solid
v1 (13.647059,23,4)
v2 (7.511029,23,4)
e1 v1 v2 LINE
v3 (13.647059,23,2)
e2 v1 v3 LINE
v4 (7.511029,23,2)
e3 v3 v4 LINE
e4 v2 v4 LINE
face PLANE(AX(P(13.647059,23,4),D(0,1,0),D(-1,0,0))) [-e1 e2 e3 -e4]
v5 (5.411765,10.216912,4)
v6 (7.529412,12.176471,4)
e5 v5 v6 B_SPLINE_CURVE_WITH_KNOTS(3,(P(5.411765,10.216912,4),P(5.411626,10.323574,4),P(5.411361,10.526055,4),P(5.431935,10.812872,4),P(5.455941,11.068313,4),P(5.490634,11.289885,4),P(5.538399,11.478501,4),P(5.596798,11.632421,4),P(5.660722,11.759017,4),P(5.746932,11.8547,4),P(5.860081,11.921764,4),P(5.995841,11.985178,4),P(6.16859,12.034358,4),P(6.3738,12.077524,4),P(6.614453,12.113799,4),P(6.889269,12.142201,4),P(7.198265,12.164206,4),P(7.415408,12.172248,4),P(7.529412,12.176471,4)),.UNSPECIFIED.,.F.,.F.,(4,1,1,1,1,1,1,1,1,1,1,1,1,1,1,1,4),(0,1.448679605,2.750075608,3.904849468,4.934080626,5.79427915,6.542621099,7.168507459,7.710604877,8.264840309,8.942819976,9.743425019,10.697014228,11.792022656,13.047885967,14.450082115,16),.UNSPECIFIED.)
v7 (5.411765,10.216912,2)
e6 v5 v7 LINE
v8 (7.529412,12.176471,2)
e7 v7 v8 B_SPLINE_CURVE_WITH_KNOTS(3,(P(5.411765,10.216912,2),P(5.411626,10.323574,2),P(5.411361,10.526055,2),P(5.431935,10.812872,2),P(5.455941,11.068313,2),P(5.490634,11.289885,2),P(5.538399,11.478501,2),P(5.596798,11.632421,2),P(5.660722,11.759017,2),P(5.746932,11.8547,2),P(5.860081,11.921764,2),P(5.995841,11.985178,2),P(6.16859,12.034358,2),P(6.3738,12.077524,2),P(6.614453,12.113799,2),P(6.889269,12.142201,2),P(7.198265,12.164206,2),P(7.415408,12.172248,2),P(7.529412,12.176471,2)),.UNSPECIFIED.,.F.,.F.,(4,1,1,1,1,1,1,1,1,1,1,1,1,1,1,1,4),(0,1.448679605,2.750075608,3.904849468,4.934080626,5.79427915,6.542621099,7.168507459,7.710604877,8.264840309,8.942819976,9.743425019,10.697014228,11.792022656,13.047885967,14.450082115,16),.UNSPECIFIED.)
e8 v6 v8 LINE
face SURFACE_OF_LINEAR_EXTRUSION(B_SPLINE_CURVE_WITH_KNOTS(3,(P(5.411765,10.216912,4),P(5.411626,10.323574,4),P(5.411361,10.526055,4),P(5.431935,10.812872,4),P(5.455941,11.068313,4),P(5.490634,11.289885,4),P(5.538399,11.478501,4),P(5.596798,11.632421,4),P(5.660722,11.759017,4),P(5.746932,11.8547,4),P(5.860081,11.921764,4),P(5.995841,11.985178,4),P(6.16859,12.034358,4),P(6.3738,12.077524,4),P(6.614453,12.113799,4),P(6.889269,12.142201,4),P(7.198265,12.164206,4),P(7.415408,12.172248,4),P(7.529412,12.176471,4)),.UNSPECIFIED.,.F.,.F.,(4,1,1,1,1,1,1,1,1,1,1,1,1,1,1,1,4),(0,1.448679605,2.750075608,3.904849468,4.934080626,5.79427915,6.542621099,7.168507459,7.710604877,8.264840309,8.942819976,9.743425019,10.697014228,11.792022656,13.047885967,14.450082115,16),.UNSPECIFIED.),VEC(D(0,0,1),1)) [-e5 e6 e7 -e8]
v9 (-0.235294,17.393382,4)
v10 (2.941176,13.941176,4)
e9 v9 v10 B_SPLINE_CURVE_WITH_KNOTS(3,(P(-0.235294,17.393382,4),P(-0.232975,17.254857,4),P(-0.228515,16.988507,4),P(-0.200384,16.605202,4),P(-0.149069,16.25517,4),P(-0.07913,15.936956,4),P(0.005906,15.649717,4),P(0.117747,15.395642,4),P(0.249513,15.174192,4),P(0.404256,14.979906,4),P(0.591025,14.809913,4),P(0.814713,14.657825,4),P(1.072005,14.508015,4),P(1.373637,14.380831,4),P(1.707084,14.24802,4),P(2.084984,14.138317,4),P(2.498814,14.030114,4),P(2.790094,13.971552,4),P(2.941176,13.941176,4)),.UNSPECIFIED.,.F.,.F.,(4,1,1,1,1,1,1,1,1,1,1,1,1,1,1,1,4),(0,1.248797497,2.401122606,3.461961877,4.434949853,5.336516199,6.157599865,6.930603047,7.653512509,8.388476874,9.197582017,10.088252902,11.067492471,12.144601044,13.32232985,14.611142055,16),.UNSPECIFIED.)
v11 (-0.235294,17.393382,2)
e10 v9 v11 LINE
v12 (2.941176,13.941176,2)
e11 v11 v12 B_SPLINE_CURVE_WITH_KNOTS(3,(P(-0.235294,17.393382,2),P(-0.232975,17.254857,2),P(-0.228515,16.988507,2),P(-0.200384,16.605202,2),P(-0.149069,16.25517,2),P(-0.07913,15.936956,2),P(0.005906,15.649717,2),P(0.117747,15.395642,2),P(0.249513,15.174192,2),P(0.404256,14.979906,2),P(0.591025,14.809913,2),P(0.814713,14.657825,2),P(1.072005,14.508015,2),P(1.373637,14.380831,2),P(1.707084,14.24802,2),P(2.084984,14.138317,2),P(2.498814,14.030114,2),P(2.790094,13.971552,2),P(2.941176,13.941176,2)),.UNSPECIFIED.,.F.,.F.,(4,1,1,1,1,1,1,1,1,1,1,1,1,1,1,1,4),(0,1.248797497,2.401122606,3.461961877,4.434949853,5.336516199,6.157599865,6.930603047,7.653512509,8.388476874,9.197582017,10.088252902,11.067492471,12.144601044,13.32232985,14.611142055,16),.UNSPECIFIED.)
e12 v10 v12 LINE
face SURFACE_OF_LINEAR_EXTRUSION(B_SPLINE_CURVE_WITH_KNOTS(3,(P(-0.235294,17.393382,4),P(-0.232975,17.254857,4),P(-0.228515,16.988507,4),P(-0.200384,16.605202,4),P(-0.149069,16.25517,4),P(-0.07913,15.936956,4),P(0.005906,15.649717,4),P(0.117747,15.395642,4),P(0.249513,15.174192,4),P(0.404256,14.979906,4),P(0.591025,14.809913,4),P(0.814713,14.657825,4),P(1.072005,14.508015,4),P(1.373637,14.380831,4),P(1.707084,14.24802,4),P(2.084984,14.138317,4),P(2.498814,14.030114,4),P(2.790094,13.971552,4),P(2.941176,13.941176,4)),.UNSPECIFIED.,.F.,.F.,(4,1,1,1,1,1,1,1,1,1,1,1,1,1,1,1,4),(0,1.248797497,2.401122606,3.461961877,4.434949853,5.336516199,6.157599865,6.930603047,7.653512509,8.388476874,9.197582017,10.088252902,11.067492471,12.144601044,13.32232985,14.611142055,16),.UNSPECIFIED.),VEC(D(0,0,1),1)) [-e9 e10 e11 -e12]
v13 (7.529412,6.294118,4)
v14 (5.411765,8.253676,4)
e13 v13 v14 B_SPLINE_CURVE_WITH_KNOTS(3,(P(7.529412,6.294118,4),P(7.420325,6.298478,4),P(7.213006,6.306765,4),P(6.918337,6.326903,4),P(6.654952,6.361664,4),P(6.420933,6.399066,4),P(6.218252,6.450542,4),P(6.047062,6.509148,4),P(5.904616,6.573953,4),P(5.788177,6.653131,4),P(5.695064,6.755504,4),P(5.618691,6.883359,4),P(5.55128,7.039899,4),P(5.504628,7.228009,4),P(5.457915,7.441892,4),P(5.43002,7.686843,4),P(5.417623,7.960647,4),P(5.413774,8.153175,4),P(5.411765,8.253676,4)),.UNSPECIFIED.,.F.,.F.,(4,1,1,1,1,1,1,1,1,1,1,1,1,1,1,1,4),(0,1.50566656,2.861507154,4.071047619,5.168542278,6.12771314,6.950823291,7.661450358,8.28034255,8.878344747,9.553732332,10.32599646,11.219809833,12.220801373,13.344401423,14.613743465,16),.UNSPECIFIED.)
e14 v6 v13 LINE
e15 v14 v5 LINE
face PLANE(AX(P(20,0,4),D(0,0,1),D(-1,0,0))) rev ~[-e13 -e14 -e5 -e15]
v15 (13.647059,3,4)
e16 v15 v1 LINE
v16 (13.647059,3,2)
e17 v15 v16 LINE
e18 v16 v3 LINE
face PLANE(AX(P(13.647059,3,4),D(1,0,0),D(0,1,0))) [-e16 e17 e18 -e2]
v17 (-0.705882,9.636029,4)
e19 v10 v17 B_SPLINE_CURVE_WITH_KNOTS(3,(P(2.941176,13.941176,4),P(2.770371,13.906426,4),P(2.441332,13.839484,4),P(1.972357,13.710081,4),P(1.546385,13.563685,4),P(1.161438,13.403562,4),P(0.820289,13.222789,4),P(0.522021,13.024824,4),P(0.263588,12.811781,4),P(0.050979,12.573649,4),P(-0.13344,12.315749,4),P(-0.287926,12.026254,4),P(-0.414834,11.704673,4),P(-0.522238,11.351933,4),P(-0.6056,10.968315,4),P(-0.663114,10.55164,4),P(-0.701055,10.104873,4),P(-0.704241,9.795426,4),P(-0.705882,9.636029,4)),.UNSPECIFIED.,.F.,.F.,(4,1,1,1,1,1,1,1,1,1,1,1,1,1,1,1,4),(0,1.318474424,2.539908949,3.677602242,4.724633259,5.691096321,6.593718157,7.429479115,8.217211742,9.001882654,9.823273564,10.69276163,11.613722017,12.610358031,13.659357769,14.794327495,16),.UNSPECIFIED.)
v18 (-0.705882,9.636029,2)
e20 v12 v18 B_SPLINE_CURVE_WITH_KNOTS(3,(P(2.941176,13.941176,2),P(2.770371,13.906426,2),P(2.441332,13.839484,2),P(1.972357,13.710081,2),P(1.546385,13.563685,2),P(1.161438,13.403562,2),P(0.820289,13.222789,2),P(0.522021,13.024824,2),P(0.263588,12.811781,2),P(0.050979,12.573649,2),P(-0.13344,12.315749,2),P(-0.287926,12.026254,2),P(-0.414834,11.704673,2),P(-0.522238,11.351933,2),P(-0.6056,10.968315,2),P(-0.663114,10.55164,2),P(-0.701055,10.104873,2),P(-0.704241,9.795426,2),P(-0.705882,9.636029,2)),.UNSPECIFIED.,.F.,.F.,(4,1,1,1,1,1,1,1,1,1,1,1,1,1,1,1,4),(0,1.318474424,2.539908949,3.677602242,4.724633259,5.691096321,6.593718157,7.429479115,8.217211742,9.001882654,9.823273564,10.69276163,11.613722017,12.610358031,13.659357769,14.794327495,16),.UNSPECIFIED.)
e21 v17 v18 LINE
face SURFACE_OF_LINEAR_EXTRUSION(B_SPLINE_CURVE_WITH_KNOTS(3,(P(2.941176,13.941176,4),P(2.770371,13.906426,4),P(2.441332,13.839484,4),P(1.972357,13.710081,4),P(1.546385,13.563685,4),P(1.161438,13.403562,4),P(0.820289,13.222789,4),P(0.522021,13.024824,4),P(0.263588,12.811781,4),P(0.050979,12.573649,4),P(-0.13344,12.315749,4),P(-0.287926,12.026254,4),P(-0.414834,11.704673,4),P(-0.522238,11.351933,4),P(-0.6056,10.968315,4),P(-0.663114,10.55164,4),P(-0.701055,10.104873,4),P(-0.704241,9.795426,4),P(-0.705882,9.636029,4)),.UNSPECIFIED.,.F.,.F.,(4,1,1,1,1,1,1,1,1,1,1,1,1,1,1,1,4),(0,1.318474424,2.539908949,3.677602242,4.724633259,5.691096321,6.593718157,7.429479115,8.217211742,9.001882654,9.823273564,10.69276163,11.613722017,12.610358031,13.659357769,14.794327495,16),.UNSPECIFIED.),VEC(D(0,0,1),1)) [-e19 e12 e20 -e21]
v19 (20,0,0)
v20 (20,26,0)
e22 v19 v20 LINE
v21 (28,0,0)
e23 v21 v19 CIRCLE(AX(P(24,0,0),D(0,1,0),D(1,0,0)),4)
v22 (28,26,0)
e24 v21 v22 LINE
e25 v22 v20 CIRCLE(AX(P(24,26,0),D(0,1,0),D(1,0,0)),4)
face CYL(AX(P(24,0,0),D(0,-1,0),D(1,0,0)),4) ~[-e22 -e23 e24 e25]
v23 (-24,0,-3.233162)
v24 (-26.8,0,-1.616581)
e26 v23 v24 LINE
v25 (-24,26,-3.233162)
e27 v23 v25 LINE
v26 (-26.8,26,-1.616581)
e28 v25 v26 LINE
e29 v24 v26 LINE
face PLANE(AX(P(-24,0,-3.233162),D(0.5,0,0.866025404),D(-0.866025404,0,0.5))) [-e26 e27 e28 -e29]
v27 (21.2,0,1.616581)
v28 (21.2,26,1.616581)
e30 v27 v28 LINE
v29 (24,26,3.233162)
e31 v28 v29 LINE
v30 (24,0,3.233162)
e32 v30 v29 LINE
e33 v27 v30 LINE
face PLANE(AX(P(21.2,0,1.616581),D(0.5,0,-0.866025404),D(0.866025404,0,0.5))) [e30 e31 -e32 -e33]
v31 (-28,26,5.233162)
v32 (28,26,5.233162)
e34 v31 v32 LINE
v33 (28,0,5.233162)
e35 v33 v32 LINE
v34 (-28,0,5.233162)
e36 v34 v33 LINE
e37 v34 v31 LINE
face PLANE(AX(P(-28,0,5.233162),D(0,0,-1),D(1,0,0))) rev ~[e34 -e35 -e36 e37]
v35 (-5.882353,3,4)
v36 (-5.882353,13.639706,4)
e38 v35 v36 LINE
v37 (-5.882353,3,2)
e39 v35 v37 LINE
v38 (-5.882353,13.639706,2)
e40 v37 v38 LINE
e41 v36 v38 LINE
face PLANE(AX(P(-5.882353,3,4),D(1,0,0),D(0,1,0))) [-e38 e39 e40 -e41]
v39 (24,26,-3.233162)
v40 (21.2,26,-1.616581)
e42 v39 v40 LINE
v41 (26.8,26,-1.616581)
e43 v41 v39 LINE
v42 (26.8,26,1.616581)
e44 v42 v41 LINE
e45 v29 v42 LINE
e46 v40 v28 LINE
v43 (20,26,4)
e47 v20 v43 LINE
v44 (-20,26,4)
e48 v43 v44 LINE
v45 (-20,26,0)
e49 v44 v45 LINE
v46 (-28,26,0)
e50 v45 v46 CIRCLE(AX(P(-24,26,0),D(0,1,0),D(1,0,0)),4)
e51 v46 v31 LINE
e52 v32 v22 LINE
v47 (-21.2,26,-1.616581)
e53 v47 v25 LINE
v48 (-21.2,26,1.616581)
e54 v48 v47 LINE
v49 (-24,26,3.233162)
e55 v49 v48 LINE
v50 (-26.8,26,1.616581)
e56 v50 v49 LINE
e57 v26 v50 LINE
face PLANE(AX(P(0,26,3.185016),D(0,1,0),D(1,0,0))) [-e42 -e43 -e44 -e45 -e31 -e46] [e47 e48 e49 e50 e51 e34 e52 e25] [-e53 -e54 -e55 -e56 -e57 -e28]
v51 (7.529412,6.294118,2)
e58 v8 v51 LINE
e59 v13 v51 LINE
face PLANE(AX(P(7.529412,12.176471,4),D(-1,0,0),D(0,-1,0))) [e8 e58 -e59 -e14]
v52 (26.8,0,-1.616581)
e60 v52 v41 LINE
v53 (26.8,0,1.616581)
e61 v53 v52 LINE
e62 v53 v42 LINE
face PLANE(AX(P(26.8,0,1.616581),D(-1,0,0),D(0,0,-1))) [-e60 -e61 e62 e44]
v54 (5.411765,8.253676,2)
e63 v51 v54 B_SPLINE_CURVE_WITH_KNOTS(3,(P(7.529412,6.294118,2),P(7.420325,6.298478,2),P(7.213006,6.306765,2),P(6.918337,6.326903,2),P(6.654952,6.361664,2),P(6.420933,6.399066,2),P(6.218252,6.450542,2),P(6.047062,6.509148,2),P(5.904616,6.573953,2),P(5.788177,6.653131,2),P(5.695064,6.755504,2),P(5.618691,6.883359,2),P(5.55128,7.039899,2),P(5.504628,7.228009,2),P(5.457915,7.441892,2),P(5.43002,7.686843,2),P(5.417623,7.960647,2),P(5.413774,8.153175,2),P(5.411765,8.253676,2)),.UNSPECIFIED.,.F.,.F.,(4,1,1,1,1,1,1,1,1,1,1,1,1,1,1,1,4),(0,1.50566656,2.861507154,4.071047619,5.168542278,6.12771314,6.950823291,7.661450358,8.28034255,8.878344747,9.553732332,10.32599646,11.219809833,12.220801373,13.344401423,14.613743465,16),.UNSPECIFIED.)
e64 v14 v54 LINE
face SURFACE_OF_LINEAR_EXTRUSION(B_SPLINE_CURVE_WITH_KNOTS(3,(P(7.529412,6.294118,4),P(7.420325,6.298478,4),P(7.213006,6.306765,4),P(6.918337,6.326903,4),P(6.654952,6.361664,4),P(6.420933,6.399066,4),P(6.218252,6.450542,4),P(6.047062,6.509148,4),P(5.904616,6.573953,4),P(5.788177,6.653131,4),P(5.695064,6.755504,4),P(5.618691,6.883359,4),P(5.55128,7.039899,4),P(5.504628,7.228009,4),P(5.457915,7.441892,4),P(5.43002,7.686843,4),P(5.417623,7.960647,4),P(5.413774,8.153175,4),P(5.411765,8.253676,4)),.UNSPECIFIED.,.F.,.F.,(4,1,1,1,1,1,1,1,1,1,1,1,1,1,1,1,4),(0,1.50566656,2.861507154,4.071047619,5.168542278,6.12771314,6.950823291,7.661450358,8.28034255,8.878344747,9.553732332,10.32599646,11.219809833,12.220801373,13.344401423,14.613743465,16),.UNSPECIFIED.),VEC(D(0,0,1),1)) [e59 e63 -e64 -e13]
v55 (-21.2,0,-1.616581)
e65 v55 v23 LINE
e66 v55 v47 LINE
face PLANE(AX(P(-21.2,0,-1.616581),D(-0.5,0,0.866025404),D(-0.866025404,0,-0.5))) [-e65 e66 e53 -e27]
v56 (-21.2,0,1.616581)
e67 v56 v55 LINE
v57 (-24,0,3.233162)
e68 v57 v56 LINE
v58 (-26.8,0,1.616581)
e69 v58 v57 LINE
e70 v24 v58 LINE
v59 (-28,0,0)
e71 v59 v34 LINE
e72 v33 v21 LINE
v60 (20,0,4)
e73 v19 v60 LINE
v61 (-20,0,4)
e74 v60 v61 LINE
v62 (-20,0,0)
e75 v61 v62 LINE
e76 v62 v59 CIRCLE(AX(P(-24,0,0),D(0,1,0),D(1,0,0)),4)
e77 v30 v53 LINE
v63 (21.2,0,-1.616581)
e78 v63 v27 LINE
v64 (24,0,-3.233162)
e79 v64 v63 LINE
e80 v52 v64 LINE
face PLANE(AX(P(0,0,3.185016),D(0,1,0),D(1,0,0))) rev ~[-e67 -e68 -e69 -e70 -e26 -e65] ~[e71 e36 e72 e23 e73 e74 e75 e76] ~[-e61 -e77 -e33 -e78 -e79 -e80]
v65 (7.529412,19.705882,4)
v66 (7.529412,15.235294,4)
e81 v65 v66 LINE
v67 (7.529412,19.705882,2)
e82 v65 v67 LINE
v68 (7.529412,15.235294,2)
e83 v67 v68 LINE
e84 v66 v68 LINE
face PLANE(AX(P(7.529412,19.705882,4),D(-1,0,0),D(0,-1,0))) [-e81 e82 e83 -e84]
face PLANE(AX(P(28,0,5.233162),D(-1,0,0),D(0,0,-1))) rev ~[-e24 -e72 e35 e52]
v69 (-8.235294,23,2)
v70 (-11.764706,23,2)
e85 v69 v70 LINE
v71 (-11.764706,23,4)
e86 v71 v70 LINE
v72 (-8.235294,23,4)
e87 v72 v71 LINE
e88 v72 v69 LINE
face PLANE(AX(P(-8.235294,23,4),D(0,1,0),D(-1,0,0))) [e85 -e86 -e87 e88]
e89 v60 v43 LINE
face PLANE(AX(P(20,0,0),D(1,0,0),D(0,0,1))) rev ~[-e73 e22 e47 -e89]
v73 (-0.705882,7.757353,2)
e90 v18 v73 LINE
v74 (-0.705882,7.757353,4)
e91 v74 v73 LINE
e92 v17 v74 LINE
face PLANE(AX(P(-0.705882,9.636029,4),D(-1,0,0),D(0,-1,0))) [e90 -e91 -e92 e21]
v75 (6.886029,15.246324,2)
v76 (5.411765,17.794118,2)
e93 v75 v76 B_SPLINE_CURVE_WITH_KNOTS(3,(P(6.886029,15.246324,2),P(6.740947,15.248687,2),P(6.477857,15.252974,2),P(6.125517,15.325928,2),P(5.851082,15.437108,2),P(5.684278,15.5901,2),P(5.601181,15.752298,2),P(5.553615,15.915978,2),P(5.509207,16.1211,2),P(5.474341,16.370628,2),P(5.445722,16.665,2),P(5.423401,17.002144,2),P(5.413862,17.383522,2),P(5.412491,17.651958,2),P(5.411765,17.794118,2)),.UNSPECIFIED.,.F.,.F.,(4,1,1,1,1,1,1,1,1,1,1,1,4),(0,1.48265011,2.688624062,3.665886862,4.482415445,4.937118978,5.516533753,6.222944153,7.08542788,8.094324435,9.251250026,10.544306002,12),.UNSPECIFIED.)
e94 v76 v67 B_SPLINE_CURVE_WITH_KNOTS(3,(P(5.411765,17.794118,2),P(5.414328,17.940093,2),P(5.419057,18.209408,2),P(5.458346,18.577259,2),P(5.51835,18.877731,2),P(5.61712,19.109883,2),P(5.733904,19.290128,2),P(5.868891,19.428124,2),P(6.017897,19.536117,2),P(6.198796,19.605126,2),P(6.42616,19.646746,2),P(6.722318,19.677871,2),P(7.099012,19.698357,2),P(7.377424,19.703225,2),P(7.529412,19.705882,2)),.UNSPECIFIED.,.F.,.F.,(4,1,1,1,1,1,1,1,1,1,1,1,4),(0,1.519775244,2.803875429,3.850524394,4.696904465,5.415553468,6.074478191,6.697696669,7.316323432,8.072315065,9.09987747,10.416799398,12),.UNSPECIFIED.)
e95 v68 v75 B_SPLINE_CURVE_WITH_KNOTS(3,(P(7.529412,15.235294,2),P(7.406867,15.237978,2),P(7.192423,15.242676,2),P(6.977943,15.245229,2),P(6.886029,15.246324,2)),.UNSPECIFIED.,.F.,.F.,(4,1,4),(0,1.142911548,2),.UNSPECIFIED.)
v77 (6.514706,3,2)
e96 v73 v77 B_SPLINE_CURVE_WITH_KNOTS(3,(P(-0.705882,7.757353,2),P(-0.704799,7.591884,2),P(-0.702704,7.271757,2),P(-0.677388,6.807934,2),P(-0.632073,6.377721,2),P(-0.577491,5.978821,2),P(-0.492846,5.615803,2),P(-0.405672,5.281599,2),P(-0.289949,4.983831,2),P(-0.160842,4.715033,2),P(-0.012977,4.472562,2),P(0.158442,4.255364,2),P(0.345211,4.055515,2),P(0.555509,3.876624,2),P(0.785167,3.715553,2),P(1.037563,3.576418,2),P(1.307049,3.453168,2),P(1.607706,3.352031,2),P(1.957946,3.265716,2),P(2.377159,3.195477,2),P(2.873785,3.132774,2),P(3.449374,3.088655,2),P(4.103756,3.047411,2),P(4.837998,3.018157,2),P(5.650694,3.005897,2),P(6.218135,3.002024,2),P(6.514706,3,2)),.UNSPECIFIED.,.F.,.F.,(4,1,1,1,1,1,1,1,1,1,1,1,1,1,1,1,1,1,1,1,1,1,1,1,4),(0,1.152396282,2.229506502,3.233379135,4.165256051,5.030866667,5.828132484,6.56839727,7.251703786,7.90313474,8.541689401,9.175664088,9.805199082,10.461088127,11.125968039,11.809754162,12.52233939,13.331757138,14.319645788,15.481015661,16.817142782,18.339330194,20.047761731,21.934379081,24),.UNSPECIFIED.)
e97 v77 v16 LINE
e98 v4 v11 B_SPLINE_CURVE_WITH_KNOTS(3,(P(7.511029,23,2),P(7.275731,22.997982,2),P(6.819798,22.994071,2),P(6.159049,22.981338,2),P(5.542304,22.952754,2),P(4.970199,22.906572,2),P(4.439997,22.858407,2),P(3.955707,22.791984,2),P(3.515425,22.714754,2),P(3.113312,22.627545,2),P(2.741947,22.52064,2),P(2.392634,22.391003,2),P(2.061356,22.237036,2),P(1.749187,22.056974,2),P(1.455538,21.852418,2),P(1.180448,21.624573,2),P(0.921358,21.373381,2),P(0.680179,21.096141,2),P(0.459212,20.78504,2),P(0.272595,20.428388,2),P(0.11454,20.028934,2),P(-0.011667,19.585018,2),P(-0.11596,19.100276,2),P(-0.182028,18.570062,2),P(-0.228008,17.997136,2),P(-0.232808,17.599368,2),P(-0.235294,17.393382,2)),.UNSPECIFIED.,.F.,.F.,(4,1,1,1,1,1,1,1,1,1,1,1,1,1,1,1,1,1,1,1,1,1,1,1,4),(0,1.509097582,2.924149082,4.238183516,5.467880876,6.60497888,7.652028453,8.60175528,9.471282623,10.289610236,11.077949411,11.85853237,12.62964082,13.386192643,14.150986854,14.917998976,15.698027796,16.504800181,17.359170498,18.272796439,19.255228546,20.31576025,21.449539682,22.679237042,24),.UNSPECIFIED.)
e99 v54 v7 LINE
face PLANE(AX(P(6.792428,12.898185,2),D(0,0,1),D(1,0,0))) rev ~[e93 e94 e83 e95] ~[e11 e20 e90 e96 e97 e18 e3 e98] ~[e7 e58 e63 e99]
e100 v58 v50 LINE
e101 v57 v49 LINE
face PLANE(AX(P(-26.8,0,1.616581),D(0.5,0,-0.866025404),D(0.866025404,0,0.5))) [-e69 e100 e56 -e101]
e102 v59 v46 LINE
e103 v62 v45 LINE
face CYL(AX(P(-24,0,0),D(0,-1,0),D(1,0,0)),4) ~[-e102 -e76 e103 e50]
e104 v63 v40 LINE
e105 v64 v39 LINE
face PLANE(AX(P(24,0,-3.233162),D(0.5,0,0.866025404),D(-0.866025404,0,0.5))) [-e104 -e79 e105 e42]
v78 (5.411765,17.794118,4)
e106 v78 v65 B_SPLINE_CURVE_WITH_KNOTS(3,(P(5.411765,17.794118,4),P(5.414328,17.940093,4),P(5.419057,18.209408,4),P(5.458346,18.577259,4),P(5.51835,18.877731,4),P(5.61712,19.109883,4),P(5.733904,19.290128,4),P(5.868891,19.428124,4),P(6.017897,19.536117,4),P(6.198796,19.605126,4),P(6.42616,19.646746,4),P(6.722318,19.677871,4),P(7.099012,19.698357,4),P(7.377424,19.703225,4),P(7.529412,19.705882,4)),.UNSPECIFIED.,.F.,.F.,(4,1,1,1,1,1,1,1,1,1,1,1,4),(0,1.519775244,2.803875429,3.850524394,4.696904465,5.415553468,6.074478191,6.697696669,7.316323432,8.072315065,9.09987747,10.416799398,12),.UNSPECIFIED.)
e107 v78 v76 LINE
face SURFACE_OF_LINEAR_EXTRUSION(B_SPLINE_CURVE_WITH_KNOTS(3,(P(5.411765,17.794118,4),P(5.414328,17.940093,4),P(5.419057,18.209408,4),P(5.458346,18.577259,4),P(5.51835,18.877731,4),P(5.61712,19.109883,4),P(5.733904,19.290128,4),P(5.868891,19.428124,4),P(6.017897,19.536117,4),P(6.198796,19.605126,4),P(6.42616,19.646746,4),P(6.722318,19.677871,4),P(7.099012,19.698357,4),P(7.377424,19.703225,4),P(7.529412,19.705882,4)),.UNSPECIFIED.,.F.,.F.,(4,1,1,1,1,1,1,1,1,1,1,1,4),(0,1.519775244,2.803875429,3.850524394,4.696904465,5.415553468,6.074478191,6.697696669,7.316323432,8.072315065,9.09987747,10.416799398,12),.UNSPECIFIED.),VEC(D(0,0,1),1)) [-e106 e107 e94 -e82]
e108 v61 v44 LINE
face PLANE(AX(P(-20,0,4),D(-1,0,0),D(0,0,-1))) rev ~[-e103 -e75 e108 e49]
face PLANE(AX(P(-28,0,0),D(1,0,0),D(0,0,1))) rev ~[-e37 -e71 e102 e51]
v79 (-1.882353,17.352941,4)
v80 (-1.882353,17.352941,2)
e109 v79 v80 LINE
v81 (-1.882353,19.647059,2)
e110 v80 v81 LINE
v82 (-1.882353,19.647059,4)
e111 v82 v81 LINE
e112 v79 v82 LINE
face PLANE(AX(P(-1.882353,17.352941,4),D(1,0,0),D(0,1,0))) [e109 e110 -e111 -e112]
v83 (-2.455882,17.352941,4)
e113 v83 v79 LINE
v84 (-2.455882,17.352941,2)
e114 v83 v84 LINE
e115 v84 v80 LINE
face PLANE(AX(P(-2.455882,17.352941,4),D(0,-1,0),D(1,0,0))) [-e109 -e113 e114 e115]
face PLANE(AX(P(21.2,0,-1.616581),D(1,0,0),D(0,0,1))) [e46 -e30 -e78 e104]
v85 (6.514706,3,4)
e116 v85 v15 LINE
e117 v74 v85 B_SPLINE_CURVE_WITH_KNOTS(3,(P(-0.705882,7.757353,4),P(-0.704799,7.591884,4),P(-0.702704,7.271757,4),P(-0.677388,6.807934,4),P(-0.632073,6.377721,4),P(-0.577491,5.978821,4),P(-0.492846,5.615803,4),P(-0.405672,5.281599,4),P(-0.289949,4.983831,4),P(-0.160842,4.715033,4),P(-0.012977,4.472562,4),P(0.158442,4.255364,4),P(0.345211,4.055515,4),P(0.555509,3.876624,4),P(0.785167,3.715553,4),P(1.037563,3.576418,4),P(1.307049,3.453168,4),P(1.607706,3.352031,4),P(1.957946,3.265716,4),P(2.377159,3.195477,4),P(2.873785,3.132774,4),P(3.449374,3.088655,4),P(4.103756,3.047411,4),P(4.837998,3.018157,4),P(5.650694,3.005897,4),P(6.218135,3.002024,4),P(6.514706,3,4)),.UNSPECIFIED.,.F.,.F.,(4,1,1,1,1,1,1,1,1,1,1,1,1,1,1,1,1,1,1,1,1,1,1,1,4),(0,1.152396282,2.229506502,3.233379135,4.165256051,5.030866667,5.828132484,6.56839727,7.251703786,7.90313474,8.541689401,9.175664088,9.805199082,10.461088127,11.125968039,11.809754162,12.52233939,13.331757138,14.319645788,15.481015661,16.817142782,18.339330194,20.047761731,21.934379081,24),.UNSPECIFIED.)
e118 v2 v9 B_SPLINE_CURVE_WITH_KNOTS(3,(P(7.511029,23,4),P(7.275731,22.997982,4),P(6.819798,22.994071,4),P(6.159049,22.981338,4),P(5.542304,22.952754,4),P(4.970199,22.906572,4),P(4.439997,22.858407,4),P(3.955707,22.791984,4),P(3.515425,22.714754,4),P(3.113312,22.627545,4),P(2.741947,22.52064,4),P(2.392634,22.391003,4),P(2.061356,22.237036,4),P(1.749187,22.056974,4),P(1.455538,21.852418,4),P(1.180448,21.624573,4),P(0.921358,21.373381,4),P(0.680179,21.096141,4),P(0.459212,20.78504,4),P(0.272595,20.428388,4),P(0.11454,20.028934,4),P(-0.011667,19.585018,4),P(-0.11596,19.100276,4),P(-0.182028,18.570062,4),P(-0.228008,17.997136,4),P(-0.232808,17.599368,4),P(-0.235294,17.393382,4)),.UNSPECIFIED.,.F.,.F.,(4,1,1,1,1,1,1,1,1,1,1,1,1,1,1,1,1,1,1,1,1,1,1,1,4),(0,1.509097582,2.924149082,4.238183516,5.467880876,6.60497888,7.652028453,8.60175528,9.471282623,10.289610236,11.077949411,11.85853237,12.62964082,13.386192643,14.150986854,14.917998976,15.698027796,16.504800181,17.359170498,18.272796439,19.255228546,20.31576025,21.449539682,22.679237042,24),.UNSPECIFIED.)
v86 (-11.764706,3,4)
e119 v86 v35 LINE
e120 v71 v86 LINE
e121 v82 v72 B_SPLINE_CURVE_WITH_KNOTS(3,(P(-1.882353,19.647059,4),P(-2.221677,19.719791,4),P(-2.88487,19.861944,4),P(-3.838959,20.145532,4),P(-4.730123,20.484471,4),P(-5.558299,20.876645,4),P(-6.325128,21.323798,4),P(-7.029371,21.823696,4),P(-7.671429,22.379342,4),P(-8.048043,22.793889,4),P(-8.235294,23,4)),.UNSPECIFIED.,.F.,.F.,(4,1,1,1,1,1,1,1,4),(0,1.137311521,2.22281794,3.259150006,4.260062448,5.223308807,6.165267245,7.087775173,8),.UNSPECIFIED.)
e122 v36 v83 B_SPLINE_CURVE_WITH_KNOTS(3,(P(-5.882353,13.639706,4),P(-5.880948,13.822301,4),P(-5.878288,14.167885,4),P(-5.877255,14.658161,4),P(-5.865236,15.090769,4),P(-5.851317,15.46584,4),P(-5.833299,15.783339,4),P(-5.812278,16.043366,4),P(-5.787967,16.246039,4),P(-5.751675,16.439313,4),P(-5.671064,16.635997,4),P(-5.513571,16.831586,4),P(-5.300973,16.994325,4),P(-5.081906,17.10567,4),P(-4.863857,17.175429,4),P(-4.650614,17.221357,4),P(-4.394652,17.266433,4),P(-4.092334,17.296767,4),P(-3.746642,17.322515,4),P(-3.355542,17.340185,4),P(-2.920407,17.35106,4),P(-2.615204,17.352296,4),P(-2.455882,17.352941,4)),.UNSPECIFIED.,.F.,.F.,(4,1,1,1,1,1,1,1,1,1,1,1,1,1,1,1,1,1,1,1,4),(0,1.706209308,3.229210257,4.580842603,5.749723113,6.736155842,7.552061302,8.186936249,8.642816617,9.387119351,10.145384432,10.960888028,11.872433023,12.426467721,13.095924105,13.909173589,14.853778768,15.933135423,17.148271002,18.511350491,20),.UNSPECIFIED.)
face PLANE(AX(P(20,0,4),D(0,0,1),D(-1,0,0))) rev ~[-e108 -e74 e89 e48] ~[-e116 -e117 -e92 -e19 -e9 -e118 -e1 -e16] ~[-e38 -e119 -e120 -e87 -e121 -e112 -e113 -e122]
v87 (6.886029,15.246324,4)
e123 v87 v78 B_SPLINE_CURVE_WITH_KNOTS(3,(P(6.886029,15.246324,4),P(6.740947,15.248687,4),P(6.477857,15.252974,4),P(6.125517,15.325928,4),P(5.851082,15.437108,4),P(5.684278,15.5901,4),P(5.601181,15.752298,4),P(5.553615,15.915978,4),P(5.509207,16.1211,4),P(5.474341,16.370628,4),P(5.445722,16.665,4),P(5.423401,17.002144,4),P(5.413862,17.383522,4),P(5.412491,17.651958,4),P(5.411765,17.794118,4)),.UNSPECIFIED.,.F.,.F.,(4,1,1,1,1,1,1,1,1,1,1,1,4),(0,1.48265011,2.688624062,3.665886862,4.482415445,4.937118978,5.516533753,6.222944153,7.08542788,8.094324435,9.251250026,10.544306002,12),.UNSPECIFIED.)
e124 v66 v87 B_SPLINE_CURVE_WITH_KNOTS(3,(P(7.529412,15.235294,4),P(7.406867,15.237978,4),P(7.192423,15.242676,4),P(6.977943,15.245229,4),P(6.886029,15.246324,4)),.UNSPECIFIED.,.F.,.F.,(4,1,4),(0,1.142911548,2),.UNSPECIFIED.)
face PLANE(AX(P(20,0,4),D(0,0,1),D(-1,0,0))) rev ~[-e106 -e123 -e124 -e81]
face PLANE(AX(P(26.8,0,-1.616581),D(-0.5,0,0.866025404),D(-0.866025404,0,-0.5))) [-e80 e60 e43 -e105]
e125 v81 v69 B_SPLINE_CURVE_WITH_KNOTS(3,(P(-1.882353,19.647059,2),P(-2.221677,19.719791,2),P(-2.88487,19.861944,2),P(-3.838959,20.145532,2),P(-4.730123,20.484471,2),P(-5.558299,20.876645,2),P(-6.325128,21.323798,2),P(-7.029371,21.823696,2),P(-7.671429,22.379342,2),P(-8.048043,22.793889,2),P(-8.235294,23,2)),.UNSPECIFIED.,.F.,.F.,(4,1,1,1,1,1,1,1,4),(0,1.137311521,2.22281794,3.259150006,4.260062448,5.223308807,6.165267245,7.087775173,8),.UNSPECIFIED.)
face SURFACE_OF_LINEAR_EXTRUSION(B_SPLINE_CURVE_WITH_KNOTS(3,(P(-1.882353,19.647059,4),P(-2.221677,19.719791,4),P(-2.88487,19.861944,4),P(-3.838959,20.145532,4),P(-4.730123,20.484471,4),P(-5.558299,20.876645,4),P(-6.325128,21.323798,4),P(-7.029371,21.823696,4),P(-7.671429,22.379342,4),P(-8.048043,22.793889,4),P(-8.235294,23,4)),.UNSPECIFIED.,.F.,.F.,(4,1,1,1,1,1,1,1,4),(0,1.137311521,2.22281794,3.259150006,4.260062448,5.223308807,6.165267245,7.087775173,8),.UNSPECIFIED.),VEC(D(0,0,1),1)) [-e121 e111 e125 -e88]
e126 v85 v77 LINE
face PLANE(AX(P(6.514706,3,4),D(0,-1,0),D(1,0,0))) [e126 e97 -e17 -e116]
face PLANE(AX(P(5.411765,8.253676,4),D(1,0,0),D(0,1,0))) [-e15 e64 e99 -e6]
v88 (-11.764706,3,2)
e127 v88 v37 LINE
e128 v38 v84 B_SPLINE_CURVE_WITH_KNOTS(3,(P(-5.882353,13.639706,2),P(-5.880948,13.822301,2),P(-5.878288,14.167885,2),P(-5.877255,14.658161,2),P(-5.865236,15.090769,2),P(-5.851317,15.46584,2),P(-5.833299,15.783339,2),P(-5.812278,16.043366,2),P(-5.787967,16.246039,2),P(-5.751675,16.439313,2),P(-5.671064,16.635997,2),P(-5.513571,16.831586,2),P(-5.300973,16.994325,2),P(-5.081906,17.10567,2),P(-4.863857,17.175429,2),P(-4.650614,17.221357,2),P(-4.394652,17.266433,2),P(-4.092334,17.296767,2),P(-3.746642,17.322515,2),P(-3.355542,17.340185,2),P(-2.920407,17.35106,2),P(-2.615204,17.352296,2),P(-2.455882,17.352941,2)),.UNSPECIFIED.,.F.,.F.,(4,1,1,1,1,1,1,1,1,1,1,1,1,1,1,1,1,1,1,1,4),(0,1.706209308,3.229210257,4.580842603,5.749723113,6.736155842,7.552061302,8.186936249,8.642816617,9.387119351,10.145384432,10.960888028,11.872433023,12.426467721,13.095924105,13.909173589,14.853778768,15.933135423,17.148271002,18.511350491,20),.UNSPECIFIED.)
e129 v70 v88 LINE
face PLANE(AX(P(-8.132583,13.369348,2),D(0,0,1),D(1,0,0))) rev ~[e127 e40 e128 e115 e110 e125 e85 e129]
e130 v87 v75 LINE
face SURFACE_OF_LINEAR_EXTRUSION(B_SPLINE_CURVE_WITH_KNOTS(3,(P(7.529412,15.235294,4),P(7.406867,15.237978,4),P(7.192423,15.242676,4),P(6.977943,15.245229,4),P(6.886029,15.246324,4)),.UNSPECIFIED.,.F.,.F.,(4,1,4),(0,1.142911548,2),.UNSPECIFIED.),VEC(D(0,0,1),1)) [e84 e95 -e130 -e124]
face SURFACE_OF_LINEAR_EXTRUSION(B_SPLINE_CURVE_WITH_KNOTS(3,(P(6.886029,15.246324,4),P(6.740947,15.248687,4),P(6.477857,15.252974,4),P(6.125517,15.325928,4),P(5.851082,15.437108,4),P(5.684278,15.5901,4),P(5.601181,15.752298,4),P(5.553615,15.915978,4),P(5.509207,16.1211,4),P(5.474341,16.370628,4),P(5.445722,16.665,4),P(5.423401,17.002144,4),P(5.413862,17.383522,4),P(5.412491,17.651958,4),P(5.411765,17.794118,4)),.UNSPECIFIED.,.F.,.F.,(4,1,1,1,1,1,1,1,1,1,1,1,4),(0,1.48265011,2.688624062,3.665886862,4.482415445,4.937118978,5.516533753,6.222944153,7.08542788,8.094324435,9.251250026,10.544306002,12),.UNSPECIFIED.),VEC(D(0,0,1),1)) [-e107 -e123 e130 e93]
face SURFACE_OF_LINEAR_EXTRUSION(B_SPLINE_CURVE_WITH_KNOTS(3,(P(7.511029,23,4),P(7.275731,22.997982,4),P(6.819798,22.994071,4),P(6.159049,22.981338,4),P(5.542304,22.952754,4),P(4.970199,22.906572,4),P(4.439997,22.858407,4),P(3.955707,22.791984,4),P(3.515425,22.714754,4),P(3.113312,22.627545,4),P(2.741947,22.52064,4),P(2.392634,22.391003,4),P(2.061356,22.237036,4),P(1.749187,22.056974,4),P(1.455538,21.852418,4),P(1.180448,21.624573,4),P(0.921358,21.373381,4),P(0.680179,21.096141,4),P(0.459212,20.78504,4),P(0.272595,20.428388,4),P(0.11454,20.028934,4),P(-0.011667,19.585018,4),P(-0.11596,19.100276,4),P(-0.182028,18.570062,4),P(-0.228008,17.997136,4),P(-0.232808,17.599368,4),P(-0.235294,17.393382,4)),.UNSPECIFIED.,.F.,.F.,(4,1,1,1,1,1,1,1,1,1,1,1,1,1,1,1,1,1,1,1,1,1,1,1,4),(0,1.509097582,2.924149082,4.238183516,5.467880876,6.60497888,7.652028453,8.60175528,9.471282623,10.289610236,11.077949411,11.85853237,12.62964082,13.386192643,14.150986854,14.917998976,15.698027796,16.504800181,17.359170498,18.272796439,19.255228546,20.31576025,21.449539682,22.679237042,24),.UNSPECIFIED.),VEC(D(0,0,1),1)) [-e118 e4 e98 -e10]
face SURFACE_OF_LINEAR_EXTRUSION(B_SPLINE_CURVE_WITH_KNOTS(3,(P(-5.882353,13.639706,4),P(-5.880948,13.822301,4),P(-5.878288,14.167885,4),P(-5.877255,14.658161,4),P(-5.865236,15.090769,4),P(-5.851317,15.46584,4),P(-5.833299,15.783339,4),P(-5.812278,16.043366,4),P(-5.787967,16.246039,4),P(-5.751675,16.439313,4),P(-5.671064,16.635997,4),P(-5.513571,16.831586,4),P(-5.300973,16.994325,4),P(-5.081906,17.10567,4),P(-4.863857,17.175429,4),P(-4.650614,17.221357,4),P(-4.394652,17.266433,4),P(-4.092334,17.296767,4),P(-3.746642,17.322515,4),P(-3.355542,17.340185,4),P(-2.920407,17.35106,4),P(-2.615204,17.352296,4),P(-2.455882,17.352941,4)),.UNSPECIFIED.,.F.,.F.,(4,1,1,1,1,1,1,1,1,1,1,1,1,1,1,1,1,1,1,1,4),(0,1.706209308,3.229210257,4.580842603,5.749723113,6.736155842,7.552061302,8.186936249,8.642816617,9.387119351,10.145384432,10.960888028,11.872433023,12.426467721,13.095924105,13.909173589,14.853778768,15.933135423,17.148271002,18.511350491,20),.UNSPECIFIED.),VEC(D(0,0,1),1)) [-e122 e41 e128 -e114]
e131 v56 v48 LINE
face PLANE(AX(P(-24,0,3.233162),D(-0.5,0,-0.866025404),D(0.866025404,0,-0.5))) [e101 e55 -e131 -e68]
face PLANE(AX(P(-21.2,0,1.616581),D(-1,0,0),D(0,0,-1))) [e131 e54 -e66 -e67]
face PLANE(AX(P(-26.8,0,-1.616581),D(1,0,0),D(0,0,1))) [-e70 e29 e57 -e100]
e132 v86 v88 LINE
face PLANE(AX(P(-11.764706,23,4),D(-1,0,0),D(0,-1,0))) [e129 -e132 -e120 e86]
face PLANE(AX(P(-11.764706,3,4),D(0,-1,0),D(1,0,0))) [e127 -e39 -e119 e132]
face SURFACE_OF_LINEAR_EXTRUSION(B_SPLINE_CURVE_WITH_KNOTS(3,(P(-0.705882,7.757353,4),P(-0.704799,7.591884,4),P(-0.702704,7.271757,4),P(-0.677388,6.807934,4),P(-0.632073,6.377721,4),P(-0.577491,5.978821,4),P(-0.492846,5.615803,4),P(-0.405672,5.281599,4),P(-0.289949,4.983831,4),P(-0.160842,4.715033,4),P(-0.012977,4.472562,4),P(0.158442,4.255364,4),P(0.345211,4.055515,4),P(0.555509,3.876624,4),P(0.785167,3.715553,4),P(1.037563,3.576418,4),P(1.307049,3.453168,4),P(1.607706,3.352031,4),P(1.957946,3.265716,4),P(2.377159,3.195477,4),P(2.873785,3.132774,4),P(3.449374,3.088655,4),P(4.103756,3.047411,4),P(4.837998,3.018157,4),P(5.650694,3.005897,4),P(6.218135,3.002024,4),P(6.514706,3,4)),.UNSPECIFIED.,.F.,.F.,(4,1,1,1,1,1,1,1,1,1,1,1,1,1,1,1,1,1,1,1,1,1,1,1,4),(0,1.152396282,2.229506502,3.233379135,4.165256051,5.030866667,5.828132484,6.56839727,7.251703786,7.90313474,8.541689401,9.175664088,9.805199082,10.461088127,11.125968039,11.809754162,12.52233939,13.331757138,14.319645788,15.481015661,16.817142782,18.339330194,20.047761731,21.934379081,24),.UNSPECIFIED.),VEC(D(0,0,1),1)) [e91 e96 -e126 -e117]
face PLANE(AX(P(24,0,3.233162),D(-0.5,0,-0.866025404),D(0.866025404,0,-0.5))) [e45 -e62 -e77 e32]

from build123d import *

# Parameters (mm, degrees)
BOSS_EXTRUDE1_DEPTH = 26
BOSS_EXTRUDE2_DEPTH = 2


with BuildPart() as part:
    # Sketch1 → Boss-Extrude1 (new body)
    with BuildSketch(Plane(origin=(0, 0, 0), x_dir=(1, 0, 0), z_dir=(0, 1, 0))):
        with BuildLine():
            Line((-28, 0), (-28, -5.233161507))
            Line((-28, -5.233161507), (28, -5.233161507))
            Line((28, -5.233161507), (28, 0))
            ThreePointArc((28, 0), (24, 4), (20, 0))
            Line((20, 0), (20, -4))
            Line((20, -4), (-20, -4))
            Line((-20, -4), (-20, 0))
            ThreePointArc((-20, 0), (-24, 4), (-28, 0))
        make_face()
        Polygon((-24, -3.233161507), (-21.2, -1.616580754), (-21.2, 1.616580754), (-24, 3.233161507), (-26.8, 1.616580754), (-26.8, -1.616580754), align=None, mode=Mode.SUBTRACT)
        Polygon((24, -3.233161507), (26.8, -1.616580754), (26.8, 1.616580754), (24, 3.233161507), (21.2, 1.616580754), (21.2, -1.616580754), align=None, mode=Mode.SUBTRACT)
    extrude(amount=BOSS_EXTRUDE1_DEPTH)

    # Sketch2 → Boss-Extrude2 (add)
    # profile 1 of 2: a face of its own
    with BuildSketch(Plane(origin=(0, 0, 4), x_dir=(-1, 0, 0), z_dir=(0, 0, -1))):
        with BuildLine():
            Line((-13.647058824, 23), (-7.511029412, 23))
            add(Edge.make_bspline(
                [(-7.511029412, 23), (-7.275731179, 22.997981779), (-6.819798363, 22.994071112), (-6.159048704, 22.98133809), (-5.542304381, 22.952753821), (-4.97019879, 22.906571513), (-4.43999705, 22.85840676), (-3.95570662, 22.791983867), (-3.515425024, 22.714754032), (-3.113311884, 22.62754473), (-2.741946911, 22.520639825), (-2.392633853, 22.391003364), (-2.061356263, 22.237036075), (-1.749186518, 22.056973854), (-1.455538155, 21.852418481), (-1.180448032, 21.624572715), (-0.921358069, 21.373380515), (-0.680179003, 21.096140802), (-0.459212321, 20.785039798), (-0.272594718, 20.428388227), (-0.114539747, 20.02893381), (0.01166681, 19.585017574), (0.11595967, 19.100276176), (0.182028181, 18.570062266), (0.228008391, 17.997136115), (0.232808413, 17.599367786), (0.235294118, 17.393382353)],
                knots=[0, 0, 0, 0, 1.509097582, 2.924149082, 4.238183516, 5.467880876, 6.60497888, 7.652028453, 8.60175528, 9.471282623, 10.289610236, 11.077949411, 11.85853237, 12.62964082, 13.386192643, 14.150986854, 14.917998976, 15.698027796, 16.504800181, 17.359170498, 18.272796439, 19.255228546, 20.31576025, 21.449539682, 22.679237042, 24, 24, 24, 24], degree=3))
            add(Edge.make_bspline(
                [(0.235294118, 17.393382353), (0.232974752, 17.254856933), (0.228515198, 16.98850749), (0.200383988, 16.605202315), (0.149069438, 16.255170164), (0.079129695, 15.936955638), (-0.005906464, 15.649717168), (-0.117746792, 15.395642258), (-0.249513114, 15.174191871), (-0.404256499, 14.979905609), (-0.591024507, 14.809913361), (-0.814712612, 14.657824833), (-1.072004992, 14.508015165), (-1.37363652, 14.380830632), (-1.707083821, 14.248019836), (-2.08498403, 14.138316996), (-2.498813667, 14.030114219), (-2.790094496, 13.971551743), (-2.941176471, 13.941176471)],
                knots=[0, 0, 0, 0, 1.248797497, 2.401122606, 3.461961877, 4.434949853, 5.336516199, 6.157599865, 6.930603047, 7.653512509, 8.388476874, 9.197582017, 10.088252902, 11.067492471, 12.144601044, 13.32232985, 14.611142055, 16, 16, 16, 16], degree=3))
            add(Edge.make_bspline(
                [(-2.941176471, 13.941176471), (-2.770371191, 13.906426369), (-2.441331923, 13.839483779), (-1.972356815, 13.710080705), (-1.546384653, 13.563684789), (-1.161438092, 13.403562089), (-0.820288891, 13.222788974), (-0.522021254, 13.024823635), (-0.263588432, 12.811780764), (-0.05097915, 12.573648761), (0.133439784, 12.315749283), (0.287925528, 12.026254146), (0.414834382, 11.704673071), (0.522237978, 11.351932642), (0.605600404, 10.96831546), (0.663113943, 10.5516397), (0.701055467, 10.10487322), (0.704241313, 9.795426457), (0.705882353, 9.636029412)],
                knots=[0, 0, 0, 0, 1.318474424, 2.539908949, 3.677602242, 4.724633259, 5.691096321, 6.593718157, 7.429479115, 8.217211742, 9.001882654, 9.823273564, 10.69276163, 11.613722017, 12.610358031, 13.659357769, 14.794327495, 16, 16, 16, 16], degree=3))
            Line((0.705882353, 9.636029412), (0.705882353, 7.757352941))
            add(Edge.make_bspline(
                [(0.705882353, 7.757352941), (0.704799402, 7.591884318), (0.702704249, 7.27175714), (0.67738761, 6.807934298), (0.632072604, 6.377720507), (0.577490967, 5.978821137), (0.492846489, 5.615803116), (0.405671971, 5.281599354), (0.28994872, 4.983831187), (0.160842329, 4.715033057), (0.012977275, 4.472562188), (-0.158442094, 4.255363641), (-0.345211479, 4.055514692), (-0.555509379, 3.876624389), (-0.785166734, 3.715553429), (-1.037562672, 3.576418256), (-1.307049122, 3.453168174), (-1.607705683, 3.35203056), (-1.957946085, 3.265715552), (-2.377158841, 3.195476641), (-2.873785211, 3.13277364), (-3.4493738, 3.088655391), (-4.103756338, 3.047411202), (-4.83799783, 3.018157261), (-5.650694295, 3.005897294), (-6.218135233, 3.002024237), (-6.514705882, 3)],
                knots=[0, 0, 0, 0, 1.152396282, 2.229506502, 3.233379135, 4.165256051, 5.030866667, 5.828132484, 6.56839727, 7.251703786, 7.90313474, 8.541689401, 9.175664088, 9.805199082, 10.461088127, 11.125968039, 11.809754162, 12.52233939, 13.331757138, 14.319645788, 15.481015661, 16.817142782, 18.339330194, 20.047761731, 21.934379081, 24, 24, 24, 24], degree=3))
            Line((-6.514705882, 3), (-13.647058824, 3))
            Line((-13.647058824, 3), (-13.647058824, 23))
        make_face()
        with BuildLine():
            Line((-7.529411765, 19.705882353), (-7.529411765, 15.235294118))
            add(Edge.make_bspline(
                [(-7.529411765, 15.235294118), (-7.406866635, 15.237978484), (-7.192422866, 15.242675901), (-6.977943364, 15.24522929), (-6.886029412, 15.246323529)],
                knots=[0, 0, 0, 0, 1.142911548, 2, 2, 2, 2], degree=3))
            add(Edge.make_bspline(
                [(-6.886029412, 15.246323529), (-6.740947301, 15.248687273), (-6.477856737, 15.252973663), (-6.125517198, 15.325927539), (-5.851081785, 15.437107788), (-5.684278021, 15.590100017), (-5.601180942, 15.752298454), (-5.553614641, 15.915978468), (-5.509206909, 16.121100191), (-5.474341123, 16.370628298), (-5.445721739, 16.665000056), (-5.423400941, 17.002143802), (-5.413861666, 17.38352185), (-5.412490731, 17.651958103), (-5.411764706, 17.794117647)],
                knots=[0, 0, 0, 0, 1.48265011, 2.688624062, 3.665886862, 4.482415445, 4.937118978, 5.516533753, 6.222944153, 7.08542788, 8.094324435, 9.251250026, 10.544306002, 12, 12, 12, 12], degree=3))
            add(Edge.make_bspline(
                [(-5.411764706, 17.794117647), (-5.414328018, 17.940093199), (-5.419057143, 18.209407536), (-5.458346473, 18.577258961), (-5.518349704, 18.87773136), (-5.617120488, 19.109882781), (-5.733904141, 19.290128296), (-5.868891145, 19.428124069), (-6.017897311, 19.536117272), (-6.198796129, 19.605125943), (-6.426159943, 19.646746329), (-6.722318383, 19.677870943), (-7.099011903, 19.698357172), (-7.37742421, 19.703224978), (-7.529411765, 19.705882353)],
                knots=[0, 0, 0, 0, 1.519775244, 2.803875429, 3.850524394, 4.696904465, 5.415553468, 6.074478191, 6.697696669, 7.316323432, 8.072315065, 9.09987747, 10.416799398, 12, 12, 12, 12], degree=3))
        make_face(mode=Mode.SUBTRACT)
        with BuildLine():
            Line((-7.529411765, 12.176470588), (-7.529411765, 6.294117647))
            add(Edge.make_bspline(
                [(-7.529411765, 6.294117647), (-7.420324785, 6.298478074), (-7.213005859, 6.306765029), (-6.918337489, 6.326902982), (-6.654951975, 6.361663585), (-6.420932841, 6.399065544), (-6.218252281, 6.450542123), (-6.047062066, 6.509147737), (-5.904616172, 6.57395291), (-5.788177353, 6.653131279), (-5.695063658, 6.755503737), (-5.618691129, 6.883359348), (-5.55127953, 7.03989887), (-5.504628482, 7.228008812), (-5.457915355, 7.44189207), (-5.430019896, 7.68684309), (-5.417623422, 7.96064691), (-5.413774101, 8.153174564), (-5.411764706, 8.253676471)],
                knots=[0, 0, 0, 0, 1.50566656, 2.861507154, 4.071047619, 5.168542278, 6.12771314, 6.950823291, 7.661450358, 8.28034255, 8.878344747, 9.553732332, 10.32599646, 11.219809833, 12.220801373, 13.344401423, 14.613743465, 16, 16, 16, 16], degree=3))
            Line((-5.411764706, 8.253676471), (-5.411764706, 10.216911765))
            add(Edge.make_bspline(
                [(-5.411764706, 10.216911765), (-5.411625539, 10.323574104), (-5.411361354, 10.526054691), (-5.431934549, 10.812872087), (-5.455941272, 11.068312667), (-5.490634178, 11.28988458), (-5.538399387, 11.478501022), (-5.596797759, 11.632421229), (-5.660721533, 11.759017199), (-5.746931785, 11.854699599), (-5.860081356, 11.921764358), (-5.99584109, 11.985178234), (-6.168589838, 12.034357698), (-6.373799547, 12.077524186), (-6.614452953, 12.113799181), (-6.88926906, 12.14220067), (-7.198264679, 12.164205556), (-7.415407511, 12.172248096), (-7.529411765, 12.176470588)],
                knots=[0, 0, 0, 0, 1.448679605, 2.750075608, 3.904849468, 4.934080626, 5.79427915, 6.542621099, 7.168507459, 7.710604877, 8.264840309, 8.942819976, 9.743425019, 10.697014228, 11.792022656, 13.047885967, 14.450082115, 16, 16, 16, 16], degree=3))
        make_face(mode=Mode.SUBTRACT)
    # profile 2 of 2: a face of its own
    with BuildSketch(Plane(origin=(0, 0, 4), x_dir=(-1, 0, 0), z_dir=(0, 0, -1))):
        with BuildLine():
            Line((11.764705882, 23), (11.764705882, 3))
            Line((11.764705882, 3), (5.882352941, 3))
            Line((5.882352941, 3), (5.882352941, 13.639705882))
            add(Edge.make_bspline(
                [(5.882352941, 13.639705882), (5.880947737, 13.82230104), (5.878288215, 14.167884759), (5.877255074, 14.65816143), (5.865236193, 15.090768646), (5.851316968, 15.465840003), (5.833299033, 15.783338952), (5.812277963, 16.043366084), (5.787966916, 16.246039236), (5.751675327, 16.439313374), (5.671063802, 16.635997331), (5.513570677, 16.831585631), (5.300972739, 16.994325057), (5.081905966, 17.105669586), (4.863856573, 17.175428694), (4.65061388, 17.221357274), (4.394651874, 17.266432937), (4.092334468, 17.296767422), (3.746641909, 17.32251546), (3.355542137, 17.340185318), (2.920406806, 17.351060405), (2.615203504, 17.352296115), (2.455882353, 17.352941176)],
                knots=[0, 0, 0, 0, 1.706209308, 3.229210257, 4.580842603, 5.749723113, 6.736155842, 7.552061302, 8.186936249, 8.642816617, 9.387119351, 10.145384432, 10.960888028, 11.872433023, 12.426467721, 13.095924105, 13.909173589, 14.853778768, 15.933135423, 17.148271002, 18.511350491, 20, 20, 20, 20], degree=3))
            Line((2.455882353, 17.352941176), (1.882352941, 17.352941176))
            Line((1.882352941, 17.352941176), (1.882352941, 19.647058824))
            add(Edge.make_bspline(
                [(1.882352941, 19.647058824), (2.221677388, 19.719791453), (2.884869887, 19.861943704), (3.838958585, 20.14553208), (4.730122825, 20.484470888), (5.558298884, 20.876645002), (6.325128134, 21.323798016), (7.029371007, 21.823696326), (7.671429441, 22.379342308), (8.048042826, 22.79388857), (8.235294118, 23)],
                knots=[0, 0, 0, 0, 1.137311521, 2.22281794, 3.259150006, 4.260062448, 5.223308807, 6.165267245, 7.087775173, 8, 8, 8, 8], degree=3))
            Line((8.235294118, 23), (11.764705882, 23))
        make_face()
    extrude(amount=BOSS_EXTRUDE2_DEPTH)


solid = part.part
